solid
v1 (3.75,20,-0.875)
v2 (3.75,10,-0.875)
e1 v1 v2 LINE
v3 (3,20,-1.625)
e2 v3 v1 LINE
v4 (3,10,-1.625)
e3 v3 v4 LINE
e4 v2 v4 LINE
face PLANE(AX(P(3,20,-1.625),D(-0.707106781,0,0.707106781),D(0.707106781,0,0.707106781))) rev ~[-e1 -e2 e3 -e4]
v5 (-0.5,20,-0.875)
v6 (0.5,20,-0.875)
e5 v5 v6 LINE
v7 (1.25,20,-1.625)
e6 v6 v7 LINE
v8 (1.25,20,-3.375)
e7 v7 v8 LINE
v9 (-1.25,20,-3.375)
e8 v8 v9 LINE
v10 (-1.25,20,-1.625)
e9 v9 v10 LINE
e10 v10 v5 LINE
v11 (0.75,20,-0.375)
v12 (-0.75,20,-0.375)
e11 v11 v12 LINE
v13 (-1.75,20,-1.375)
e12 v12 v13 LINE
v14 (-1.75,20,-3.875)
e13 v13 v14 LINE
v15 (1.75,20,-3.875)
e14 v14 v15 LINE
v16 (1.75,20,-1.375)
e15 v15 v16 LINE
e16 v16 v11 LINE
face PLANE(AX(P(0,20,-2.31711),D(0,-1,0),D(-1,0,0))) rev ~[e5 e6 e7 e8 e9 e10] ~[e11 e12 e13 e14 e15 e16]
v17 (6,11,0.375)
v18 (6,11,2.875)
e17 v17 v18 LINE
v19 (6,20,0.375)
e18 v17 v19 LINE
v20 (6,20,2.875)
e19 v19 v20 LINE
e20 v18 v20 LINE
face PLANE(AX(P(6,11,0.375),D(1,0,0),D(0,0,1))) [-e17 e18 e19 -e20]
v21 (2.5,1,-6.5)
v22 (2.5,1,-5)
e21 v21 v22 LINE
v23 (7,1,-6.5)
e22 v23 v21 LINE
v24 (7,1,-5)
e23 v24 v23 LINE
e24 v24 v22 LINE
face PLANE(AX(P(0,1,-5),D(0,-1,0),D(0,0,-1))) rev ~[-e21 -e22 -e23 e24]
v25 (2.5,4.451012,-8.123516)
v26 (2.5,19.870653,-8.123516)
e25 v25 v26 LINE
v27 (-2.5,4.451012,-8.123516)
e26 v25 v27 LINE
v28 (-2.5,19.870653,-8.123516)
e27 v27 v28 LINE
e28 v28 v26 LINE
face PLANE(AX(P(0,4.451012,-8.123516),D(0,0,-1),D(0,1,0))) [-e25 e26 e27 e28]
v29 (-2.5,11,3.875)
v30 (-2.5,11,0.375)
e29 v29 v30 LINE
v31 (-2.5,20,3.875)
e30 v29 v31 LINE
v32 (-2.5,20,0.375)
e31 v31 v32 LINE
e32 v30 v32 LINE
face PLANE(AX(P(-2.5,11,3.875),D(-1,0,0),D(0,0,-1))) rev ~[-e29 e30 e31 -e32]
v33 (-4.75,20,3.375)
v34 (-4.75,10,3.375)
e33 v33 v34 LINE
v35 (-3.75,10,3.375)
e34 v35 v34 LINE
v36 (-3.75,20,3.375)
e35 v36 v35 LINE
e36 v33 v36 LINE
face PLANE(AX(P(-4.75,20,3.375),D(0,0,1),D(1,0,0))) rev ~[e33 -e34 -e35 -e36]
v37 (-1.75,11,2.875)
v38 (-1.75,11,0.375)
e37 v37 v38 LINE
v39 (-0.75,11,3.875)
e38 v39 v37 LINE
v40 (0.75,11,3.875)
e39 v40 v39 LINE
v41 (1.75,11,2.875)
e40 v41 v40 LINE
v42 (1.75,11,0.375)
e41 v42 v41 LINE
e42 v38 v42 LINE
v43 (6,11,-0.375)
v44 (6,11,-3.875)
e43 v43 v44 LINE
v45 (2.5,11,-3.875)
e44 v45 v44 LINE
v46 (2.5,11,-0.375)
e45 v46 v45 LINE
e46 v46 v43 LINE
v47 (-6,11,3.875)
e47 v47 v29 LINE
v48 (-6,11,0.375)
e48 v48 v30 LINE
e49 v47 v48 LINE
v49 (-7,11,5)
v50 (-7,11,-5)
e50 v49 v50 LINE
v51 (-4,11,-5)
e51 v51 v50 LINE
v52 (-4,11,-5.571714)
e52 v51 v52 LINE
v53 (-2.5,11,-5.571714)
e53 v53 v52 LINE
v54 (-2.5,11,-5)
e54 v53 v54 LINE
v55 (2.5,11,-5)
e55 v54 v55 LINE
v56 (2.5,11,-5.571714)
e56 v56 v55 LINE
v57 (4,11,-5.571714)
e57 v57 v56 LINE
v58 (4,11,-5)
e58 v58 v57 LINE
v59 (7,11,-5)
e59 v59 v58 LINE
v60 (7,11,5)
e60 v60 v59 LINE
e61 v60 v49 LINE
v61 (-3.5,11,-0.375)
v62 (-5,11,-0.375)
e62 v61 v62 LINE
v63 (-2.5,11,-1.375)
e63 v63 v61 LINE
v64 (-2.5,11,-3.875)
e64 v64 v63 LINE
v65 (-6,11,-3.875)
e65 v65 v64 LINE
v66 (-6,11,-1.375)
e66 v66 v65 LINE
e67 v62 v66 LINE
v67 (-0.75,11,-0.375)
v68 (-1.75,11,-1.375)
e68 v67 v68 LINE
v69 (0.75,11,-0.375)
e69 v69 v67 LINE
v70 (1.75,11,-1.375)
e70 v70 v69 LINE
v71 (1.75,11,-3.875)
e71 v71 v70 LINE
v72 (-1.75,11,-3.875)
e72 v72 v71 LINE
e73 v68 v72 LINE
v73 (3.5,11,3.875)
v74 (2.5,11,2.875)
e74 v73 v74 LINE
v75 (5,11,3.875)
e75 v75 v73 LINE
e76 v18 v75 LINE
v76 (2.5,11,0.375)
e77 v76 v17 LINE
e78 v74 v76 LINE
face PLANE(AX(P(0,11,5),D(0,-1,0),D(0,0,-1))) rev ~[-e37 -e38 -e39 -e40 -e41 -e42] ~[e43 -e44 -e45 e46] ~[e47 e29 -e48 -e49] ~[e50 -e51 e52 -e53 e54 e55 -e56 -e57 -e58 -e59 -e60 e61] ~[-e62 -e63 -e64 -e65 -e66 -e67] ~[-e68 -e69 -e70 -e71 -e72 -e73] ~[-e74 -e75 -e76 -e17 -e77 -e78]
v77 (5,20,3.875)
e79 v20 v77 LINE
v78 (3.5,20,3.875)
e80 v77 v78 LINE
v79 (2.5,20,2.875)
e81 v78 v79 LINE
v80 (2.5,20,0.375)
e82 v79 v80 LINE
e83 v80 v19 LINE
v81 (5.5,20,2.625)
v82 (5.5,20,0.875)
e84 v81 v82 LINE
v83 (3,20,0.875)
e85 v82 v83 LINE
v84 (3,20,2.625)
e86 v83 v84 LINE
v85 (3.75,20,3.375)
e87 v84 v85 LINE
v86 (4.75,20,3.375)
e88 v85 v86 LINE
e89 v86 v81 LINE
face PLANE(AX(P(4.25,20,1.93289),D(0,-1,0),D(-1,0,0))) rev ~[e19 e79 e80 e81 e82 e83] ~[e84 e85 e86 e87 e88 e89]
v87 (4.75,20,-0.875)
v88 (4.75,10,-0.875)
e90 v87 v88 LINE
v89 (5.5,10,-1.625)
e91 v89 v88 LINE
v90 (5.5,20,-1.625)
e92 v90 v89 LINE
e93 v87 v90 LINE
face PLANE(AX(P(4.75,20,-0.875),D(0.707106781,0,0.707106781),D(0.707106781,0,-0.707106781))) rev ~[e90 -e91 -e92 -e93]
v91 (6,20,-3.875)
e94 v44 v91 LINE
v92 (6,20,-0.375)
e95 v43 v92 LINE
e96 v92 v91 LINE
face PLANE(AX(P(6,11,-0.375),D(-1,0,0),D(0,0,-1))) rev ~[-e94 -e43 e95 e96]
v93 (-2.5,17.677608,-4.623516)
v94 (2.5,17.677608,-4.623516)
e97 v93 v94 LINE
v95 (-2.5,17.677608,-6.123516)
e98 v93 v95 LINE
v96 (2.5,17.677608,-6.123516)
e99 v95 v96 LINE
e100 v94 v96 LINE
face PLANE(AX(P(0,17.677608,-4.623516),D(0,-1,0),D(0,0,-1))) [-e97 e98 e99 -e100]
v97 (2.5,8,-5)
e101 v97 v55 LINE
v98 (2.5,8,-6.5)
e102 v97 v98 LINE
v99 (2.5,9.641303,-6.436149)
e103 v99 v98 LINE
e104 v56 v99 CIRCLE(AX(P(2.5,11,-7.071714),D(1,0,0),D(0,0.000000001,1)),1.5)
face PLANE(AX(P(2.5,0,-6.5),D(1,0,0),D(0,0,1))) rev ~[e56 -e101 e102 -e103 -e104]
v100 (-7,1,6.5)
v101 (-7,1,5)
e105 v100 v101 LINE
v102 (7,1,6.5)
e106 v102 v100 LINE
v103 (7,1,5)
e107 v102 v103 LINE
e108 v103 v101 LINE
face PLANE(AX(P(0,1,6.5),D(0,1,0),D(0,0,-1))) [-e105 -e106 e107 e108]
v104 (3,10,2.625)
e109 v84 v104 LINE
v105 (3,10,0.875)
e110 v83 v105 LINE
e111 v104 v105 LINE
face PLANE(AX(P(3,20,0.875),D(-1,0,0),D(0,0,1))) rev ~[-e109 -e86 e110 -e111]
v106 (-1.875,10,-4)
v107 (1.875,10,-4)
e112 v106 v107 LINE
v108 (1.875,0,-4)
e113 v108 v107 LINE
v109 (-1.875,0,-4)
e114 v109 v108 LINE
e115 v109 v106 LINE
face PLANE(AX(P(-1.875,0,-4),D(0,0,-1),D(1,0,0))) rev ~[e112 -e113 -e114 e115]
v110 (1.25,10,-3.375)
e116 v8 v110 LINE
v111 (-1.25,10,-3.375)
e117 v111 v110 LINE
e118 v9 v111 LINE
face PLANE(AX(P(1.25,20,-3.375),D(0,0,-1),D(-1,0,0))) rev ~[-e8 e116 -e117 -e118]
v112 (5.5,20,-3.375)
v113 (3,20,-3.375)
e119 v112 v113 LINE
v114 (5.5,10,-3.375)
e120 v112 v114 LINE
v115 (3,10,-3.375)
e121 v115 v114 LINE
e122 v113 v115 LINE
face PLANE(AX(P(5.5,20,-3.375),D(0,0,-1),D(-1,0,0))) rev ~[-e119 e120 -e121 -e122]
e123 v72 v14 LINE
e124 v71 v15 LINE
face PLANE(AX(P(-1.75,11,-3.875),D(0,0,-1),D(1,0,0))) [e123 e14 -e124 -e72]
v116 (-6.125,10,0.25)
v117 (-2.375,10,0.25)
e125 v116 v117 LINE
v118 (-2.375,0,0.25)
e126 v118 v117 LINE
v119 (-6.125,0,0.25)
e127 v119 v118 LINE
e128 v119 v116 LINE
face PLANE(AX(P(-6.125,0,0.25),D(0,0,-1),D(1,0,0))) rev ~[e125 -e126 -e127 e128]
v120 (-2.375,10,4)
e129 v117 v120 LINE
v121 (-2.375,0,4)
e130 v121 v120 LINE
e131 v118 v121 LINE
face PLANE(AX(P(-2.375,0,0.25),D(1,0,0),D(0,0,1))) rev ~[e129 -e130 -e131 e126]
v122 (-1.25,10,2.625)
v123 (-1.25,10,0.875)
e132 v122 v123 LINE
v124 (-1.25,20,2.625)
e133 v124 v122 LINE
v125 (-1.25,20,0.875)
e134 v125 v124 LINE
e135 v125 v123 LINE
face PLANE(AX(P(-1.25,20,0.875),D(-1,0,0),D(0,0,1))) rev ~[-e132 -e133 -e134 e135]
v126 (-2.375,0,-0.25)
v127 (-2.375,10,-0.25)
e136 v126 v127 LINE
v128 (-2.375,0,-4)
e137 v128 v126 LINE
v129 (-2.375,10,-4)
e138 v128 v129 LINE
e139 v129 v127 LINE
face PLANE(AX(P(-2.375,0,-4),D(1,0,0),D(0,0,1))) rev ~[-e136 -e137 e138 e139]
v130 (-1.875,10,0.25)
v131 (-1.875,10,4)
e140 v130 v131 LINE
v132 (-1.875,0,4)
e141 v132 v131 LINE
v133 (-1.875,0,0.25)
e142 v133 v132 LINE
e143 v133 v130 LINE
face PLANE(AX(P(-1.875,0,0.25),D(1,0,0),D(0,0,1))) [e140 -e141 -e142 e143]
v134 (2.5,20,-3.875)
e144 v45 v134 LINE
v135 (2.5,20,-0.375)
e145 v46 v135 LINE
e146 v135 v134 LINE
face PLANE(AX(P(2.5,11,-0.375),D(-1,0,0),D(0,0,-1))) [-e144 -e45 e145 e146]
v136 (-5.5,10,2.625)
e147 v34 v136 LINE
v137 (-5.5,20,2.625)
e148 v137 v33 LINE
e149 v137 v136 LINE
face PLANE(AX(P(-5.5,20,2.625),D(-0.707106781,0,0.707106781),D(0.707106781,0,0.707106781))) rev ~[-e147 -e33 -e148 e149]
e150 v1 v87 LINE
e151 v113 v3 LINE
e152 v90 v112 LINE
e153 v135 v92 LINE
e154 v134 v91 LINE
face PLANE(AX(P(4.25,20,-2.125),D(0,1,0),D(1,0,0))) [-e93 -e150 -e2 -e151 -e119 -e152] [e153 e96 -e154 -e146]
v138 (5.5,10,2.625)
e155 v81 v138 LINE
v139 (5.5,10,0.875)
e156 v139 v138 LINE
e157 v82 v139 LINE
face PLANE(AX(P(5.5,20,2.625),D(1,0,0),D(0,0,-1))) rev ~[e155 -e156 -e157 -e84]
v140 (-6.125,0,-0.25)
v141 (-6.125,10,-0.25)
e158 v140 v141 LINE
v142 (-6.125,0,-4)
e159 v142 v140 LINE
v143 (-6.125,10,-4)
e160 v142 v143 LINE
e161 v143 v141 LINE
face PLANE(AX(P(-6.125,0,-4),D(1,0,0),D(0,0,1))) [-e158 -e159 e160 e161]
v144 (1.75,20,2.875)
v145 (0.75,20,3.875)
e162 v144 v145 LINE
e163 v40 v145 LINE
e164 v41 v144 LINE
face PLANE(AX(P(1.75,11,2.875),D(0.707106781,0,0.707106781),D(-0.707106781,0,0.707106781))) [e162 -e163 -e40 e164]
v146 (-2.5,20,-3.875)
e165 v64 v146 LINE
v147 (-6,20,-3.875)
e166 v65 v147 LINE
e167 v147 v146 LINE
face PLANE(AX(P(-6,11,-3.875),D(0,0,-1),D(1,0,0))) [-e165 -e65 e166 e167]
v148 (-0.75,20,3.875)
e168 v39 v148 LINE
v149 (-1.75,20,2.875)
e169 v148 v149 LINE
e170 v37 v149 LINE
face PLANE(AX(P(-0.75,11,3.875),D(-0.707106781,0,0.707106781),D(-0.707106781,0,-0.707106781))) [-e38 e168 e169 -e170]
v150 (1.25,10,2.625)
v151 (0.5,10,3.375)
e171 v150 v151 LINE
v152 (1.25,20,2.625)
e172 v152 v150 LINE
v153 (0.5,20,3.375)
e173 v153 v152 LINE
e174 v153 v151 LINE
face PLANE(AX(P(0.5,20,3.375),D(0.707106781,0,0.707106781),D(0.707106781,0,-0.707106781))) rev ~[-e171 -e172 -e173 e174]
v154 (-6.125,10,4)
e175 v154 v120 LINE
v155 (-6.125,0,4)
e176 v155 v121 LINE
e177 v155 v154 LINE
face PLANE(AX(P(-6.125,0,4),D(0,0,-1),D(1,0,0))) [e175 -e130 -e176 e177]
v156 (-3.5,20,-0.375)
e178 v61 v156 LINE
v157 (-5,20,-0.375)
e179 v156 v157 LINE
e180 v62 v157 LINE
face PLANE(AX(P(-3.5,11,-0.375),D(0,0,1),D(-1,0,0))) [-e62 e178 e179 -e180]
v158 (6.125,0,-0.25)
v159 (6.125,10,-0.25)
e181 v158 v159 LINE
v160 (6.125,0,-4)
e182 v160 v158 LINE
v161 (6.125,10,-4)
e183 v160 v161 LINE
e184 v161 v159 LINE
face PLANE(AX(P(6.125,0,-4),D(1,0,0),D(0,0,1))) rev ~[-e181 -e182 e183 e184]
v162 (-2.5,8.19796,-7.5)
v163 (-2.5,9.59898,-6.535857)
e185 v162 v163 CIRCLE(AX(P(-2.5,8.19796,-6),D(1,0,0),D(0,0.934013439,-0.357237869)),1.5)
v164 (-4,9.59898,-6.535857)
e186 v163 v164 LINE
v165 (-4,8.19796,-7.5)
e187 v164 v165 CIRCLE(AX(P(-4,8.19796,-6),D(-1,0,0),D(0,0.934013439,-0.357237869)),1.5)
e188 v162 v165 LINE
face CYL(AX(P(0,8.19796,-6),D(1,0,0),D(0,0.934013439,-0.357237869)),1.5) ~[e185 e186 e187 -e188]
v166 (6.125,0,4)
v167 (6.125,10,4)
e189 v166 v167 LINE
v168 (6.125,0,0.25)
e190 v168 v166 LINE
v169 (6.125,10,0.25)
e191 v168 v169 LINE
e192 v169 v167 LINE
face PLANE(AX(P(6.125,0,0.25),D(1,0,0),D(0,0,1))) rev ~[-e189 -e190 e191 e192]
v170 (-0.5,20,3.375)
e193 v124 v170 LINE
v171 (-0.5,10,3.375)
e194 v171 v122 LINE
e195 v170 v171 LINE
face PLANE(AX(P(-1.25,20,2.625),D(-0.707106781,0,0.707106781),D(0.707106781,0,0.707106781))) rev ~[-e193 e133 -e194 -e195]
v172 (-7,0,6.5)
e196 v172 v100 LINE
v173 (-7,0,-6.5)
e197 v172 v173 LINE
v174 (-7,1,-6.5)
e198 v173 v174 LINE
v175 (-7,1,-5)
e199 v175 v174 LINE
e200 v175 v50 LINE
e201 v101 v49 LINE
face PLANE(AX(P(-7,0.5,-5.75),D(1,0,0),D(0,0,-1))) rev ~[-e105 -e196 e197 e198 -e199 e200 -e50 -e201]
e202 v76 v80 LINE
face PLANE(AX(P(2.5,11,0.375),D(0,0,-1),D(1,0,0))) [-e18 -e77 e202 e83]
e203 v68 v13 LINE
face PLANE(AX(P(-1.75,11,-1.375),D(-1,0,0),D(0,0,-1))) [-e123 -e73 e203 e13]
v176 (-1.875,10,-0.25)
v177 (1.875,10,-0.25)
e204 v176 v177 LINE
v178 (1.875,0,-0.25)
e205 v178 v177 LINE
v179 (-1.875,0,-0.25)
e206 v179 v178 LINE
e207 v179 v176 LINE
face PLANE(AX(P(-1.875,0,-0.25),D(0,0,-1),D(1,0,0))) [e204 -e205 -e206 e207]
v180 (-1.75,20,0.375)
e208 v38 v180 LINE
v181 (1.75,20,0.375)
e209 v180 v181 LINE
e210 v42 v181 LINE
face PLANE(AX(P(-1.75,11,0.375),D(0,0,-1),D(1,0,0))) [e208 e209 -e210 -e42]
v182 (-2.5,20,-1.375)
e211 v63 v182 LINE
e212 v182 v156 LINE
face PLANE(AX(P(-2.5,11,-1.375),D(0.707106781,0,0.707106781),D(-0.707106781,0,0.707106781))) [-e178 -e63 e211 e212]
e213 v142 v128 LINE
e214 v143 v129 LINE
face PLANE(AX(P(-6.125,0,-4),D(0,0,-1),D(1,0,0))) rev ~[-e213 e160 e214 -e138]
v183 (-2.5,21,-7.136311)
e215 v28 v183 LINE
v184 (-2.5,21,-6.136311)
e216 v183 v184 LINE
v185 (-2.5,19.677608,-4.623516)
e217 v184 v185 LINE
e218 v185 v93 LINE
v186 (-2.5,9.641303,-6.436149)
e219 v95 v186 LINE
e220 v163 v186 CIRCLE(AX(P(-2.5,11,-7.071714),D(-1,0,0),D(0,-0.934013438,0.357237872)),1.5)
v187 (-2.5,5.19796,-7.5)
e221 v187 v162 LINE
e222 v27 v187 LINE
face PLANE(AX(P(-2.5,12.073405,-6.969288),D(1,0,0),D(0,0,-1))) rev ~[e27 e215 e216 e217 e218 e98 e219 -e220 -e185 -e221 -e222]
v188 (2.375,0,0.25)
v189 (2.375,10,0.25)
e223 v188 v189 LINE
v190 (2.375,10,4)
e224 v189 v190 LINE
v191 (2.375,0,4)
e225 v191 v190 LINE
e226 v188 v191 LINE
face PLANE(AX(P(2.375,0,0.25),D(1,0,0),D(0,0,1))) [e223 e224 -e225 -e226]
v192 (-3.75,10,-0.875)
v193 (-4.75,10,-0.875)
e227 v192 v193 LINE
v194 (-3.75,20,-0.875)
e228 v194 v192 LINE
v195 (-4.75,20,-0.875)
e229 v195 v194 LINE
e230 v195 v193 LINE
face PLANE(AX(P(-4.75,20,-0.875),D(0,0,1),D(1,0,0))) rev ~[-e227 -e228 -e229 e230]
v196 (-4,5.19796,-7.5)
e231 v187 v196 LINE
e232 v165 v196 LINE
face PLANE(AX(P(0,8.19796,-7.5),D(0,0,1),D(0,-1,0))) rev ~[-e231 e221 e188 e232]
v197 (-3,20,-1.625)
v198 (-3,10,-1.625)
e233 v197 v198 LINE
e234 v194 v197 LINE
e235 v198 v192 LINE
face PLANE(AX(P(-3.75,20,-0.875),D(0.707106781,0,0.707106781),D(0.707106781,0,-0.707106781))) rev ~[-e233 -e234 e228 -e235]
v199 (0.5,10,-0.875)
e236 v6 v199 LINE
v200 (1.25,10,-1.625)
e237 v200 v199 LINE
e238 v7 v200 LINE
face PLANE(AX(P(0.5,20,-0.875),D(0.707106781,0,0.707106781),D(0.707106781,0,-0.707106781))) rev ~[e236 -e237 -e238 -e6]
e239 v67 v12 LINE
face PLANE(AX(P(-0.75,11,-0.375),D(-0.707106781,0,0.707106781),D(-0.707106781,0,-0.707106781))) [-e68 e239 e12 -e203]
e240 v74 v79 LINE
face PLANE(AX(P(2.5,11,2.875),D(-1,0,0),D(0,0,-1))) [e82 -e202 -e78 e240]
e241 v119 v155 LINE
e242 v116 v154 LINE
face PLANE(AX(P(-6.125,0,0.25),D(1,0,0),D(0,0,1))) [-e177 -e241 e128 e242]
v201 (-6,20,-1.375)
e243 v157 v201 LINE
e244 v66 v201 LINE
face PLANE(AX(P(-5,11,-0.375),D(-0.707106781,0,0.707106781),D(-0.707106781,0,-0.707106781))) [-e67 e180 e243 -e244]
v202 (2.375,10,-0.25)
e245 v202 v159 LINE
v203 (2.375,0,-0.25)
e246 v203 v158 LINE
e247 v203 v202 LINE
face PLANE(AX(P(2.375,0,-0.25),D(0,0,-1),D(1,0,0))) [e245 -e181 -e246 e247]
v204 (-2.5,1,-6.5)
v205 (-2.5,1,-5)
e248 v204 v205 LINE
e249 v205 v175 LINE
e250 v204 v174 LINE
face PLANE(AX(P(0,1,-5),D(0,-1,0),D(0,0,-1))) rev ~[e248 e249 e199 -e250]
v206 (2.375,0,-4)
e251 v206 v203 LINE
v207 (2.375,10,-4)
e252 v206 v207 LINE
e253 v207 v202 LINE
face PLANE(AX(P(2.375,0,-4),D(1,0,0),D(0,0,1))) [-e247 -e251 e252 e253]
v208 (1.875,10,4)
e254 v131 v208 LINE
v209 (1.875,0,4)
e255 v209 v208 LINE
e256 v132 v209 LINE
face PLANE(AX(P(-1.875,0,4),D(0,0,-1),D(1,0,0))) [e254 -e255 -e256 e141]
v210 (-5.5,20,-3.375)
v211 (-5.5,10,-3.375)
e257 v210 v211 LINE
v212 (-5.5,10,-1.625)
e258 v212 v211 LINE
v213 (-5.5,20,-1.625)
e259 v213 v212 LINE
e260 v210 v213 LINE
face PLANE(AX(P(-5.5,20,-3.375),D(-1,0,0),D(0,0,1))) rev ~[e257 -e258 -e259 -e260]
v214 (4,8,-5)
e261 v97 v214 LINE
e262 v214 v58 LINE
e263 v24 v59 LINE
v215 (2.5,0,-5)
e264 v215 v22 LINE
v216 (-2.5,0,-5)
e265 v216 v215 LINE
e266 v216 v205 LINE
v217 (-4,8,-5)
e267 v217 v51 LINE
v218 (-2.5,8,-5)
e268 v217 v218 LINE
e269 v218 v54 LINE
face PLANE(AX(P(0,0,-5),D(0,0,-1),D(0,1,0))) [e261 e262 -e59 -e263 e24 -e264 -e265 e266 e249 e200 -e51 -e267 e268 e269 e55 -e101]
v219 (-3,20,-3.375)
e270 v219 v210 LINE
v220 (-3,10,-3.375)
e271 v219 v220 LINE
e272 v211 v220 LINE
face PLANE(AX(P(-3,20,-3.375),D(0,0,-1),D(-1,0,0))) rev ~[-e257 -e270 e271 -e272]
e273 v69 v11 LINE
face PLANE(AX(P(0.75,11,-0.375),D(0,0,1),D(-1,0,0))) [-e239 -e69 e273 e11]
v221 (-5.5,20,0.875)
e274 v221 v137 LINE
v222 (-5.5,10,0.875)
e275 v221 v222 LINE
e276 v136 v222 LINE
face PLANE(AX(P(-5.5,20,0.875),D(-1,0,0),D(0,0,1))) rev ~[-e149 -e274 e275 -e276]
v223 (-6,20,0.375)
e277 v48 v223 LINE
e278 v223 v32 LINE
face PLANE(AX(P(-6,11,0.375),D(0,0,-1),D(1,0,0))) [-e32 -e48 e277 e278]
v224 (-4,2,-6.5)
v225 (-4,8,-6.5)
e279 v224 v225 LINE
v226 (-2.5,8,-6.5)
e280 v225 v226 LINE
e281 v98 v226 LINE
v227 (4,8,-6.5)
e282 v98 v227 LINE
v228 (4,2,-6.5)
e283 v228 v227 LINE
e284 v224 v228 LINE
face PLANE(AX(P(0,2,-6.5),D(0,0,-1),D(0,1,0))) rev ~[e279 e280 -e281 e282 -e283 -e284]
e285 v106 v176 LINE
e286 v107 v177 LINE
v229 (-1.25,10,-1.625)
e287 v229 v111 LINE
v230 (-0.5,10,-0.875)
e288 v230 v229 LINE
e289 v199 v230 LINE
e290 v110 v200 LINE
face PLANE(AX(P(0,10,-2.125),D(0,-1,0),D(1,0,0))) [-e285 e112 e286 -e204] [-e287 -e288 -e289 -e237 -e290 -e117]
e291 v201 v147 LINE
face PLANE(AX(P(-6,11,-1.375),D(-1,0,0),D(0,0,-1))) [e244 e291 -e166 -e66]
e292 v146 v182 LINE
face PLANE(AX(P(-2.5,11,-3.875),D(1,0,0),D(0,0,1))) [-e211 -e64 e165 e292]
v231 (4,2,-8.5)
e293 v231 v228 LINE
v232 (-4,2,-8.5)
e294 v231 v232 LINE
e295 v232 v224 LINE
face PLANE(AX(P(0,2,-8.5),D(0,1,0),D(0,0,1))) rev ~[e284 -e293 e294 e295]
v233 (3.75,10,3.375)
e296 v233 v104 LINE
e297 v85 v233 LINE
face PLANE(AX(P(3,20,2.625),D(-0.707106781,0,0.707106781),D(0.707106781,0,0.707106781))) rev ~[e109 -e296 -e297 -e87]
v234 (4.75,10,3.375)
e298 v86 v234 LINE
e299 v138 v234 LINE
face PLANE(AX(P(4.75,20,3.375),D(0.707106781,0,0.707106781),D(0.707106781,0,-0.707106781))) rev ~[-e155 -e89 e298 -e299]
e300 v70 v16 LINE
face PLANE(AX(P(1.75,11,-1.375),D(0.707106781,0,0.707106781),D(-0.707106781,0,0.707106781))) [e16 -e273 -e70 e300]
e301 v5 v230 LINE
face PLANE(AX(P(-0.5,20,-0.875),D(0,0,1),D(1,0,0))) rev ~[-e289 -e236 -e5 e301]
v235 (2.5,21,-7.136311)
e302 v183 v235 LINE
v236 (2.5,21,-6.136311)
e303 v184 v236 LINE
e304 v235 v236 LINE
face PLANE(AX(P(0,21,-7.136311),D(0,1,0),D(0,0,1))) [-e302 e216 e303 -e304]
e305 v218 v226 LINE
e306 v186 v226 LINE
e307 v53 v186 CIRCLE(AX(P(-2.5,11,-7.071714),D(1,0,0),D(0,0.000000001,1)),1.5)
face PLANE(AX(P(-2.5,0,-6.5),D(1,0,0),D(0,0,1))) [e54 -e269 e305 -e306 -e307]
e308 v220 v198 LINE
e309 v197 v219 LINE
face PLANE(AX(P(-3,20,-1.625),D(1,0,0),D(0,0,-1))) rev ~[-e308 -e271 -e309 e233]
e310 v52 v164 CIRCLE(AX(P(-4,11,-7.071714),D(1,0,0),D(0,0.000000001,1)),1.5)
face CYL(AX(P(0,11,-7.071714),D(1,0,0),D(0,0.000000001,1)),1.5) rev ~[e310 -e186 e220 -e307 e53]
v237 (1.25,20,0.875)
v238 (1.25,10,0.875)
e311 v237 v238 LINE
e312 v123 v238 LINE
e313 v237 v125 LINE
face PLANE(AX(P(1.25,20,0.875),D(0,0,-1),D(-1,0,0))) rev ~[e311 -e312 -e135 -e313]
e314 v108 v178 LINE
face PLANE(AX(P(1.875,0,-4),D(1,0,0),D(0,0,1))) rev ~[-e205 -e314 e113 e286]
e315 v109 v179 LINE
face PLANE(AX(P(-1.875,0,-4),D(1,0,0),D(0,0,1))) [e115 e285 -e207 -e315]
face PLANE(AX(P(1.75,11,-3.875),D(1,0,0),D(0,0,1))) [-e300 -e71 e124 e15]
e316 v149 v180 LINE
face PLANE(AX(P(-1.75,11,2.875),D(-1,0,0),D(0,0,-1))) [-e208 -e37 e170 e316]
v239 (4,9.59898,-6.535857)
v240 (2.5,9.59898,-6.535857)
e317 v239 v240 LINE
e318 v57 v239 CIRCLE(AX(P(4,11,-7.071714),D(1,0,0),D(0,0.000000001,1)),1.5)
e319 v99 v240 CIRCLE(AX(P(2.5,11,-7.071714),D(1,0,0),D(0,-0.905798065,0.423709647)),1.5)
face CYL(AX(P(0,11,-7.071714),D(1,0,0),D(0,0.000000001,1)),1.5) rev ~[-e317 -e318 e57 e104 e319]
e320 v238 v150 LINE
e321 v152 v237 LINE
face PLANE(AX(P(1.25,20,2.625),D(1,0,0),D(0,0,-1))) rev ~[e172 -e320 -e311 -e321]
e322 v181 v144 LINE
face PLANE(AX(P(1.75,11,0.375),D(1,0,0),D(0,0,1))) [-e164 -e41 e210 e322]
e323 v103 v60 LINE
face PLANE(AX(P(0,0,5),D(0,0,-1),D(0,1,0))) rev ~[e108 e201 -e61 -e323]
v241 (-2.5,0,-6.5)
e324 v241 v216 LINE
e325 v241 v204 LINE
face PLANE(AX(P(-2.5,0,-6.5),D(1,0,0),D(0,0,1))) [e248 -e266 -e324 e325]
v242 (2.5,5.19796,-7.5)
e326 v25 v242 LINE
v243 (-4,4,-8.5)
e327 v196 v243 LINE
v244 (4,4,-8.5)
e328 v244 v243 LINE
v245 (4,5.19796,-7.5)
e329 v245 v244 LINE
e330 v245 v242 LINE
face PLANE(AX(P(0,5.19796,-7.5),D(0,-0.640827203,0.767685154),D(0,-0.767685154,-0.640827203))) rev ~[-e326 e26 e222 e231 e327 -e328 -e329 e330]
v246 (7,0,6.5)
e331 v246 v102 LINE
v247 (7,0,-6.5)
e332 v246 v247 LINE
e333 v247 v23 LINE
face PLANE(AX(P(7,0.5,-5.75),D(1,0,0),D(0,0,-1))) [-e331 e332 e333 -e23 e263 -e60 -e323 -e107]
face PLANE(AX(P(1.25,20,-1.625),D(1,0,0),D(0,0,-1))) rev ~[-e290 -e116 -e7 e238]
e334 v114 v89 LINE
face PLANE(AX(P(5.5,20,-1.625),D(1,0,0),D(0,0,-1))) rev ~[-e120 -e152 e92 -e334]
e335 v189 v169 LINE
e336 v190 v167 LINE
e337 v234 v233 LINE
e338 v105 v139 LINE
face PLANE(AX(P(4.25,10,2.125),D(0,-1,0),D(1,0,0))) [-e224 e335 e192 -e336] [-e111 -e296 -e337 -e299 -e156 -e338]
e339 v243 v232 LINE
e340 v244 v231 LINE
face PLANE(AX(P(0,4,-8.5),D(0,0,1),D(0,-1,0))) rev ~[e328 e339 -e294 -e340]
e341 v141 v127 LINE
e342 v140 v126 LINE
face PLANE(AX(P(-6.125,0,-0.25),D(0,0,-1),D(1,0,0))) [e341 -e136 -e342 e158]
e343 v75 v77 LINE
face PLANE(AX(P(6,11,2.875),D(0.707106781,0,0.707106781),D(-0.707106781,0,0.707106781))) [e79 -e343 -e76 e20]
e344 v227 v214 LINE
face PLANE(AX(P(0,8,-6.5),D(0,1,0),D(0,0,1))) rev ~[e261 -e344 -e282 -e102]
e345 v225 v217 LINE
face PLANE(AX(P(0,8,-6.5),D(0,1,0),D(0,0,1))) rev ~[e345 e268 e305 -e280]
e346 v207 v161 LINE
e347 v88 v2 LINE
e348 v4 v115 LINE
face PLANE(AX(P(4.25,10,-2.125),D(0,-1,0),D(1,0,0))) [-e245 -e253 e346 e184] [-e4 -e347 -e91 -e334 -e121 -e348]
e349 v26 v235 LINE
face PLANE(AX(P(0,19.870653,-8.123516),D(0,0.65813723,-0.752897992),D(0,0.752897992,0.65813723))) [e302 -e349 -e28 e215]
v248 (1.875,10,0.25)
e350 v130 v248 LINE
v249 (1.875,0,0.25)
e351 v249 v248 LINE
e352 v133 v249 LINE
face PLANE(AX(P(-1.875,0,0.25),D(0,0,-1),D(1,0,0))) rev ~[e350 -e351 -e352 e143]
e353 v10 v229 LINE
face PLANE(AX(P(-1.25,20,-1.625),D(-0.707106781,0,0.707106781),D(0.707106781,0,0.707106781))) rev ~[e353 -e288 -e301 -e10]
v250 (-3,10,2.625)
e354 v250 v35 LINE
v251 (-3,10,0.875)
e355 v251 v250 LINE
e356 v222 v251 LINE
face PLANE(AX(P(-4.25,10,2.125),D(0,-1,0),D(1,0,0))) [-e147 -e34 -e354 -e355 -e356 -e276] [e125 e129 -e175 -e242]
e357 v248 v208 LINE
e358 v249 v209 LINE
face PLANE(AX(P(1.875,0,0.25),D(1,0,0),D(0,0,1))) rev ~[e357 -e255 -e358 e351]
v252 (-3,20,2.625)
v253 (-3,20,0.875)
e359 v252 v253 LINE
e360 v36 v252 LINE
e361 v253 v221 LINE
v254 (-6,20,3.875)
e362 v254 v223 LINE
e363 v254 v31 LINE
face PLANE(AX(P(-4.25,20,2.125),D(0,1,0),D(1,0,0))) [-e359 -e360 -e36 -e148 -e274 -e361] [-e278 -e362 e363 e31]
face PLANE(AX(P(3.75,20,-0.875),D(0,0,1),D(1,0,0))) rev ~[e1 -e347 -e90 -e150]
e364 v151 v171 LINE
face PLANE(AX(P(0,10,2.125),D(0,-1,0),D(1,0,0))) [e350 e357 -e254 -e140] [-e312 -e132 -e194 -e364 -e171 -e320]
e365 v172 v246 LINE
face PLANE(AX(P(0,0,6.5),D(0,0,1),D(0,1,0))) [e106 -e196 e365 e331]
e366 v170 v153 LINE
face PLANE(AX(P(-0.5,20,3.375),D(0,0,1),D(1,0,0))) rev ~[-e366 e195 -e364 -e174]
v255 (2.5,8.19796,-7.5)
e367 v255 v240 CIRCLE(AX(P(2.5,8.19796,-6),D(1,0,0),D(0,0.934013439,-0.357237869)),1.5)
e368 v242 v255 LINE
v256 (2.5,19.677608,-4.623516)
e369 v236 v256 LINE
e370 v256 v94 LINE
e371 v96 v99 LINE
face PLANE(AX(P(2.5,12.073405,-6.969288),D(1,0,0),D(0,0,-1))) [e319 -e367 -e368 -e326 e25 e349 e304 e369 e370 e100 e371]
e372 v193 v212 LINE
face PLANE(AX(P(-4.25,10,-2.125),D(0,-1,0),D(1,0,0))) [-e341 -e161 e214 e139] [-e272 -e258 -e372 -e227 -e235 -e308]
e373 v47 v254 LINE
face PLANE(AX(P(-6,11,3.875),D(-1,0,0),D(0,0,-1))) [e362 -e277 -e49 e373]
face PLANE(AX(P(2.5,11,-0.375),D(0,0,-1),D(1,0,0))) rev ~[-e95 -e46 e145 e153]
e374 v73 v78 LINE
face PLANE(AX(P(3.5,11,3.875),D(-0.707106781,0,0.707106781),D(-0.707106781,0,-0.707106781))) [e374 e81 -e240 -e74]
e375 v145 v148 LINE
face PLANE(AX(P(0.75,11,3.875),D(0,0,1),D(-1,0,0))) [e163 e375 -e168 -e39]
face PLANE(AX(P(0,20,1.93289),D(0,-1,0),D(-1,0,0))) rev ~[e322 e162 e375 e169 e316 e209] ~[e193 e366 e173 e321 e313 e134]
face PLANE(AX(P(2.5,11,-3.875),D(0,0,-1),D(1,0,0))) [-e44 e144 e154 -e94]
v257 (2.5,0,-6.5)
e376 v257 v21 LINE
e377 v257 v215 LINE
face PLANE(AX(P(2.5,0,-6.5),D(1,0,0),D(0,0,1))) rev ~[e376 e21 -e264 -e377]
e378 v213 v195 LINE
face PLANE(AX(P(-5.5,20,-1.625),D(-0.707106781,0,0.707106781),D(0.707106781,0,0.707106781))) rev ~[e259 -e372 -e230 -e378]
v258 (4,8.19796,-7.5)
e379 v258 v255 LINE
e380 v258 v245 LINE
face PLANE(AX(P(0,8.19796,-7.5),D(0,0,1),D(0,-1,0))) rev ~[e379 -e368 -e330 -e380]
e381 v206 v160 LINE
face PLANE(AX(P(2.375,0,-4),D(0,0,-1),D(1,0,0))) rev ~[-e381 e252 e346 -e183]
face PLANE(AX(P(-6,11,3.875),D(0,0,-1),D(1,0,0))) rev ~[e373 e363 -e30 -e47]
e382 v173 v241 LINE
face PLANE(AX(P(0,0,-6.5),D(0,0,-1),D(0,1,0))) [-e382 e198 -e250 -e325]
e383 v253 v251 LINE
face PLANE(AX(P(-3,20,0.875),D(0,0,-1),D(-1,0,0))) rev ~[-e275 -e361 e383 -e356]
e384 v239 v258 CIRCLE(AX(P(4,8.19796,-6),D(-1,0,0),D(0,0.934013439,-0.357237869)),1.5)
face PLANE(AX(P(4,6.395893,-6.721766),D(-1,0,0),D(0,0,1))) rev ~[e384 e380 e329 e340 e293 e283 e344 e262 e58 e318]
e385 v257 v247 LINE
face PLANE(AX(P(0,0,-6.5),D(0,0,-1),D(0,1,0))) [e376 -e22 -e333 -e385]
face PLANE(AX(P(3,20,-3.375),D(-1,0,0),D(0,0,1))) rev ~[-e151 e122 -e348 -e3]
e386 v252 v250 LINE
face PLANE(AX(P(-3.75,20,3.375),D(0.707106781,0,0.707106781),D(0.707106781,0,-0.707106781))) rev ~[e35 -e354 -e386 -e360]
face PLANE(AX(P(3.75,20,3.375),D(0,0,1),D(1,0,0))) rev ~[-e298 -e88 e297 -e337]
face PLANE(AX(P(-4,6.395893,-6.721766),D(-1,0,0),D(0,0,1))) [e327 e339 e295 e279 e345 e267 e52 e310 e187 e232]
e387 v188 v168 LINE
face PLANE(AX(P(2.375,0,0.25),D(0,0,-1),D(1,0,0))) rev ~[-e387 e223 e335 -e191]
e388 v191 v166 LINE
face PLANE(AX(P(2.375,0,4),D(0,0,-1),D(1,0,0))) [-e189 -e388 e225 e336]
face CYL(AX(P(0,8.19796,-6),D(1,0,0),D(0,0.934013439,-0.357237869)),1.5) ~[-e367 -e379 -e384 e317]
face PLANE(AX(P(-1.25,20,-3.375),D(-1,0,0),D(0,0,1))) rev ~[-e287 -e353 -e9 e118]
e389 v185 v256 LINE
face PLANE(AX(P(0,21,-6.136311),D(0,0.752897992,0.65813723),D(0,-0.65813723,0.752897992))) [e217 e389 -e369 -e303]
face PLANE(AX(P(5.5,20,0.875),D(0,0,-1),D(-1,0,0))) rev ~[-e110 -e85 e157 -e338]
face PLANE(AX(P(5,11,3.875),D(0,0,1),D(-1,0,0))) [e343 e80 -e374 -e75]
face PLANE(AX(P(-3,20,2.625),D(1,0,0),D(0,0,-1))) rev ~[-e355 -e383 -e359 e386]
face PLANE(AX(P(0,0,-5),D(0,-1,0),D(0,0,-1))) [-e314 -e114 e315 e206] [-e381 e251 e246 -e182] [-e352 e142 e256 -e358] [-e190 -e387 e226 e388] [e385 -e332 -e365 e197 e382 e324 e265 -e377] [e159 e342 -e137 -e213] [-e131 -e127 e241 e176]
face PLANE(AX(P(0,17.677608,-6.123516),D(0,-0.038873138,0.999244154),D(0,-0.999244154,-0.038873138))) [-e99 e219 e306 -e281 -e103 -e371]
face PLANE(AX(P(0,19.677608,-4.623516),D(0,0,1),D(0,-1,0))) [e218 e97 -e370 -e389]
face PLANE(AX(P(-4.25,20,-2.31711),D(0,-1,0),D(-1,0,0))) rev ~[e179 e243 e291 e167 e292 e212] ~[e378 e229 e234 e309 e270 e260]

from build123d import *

# Parameters (mm, degrees)
SKIZZE1_W                       = 10
SKIZZE1_H                       = 11
AUFSATZ_LINEAR_AUSTRAGEN1_DEPTH = 7
SKIZZE2_W                       = 1.5
SKIZZE2_H                       = 1
AUFSATZ_LINEAR_AUSTRAGEN2_DEPTH = 7
AUFSATZ_LINEAR_AUSTRAGEN3_DEPTH = 4
SKIZZE4_W                       = 5
SKIZZE4_H                       = 1.5
SCHNITT_LINEAR_AUSTRAGEN1_DEPTH = 12
AUFSATZ_LINEAR_AUSTRAGEN4_DEPTH = 2.5
SKIZZE6_W                       = 3.75
SKIZZE6_H                       = 3.75
SCHNITT_LINEAR_AUSTRAGEN2_DEPTH = 10
LINEARES_MUSTER1_COUNT          = 3
LINEARES_MUSTER1_PITCH          = 4.25
LINEARES_MUSTER1_COUNT_DIR2     = 2
LINEARES_MUSTER1_PITCH_DIR2     = 4.25
SKIZZE7_W                       = 3.5
SKIZZE7_H                       = 3.5
AUFSATZ_LINEAR_AUSTRAGEN5_DEPTH = 9
LINEARES_MUSTER2_COUNT          = 3
LINEARES_MUSTER2_PITCH          = 4.25
LINEARES_MUSTER2_COUNT_DIR2     = 2
LINEARES_MUSTER2_PITCH_DIR2     = 4.25
AUFSATZ_LINEAR_AUSTRAGEN7_DEPTH = 9
LINEARES_MUSTER4_COUNT          = 3
LINEARES_MUSTER4_PITCH          = 4.25
LINEARES_MUSTER4_COUNT_DIR2     = 2
LINEARES_MUSTER4_PITCH_DIR2     = 4.25
SCHNITT_LINEAR_AUSTRAGEN4_DEPTH = 21
LINEARES_MUSTER6_COUNT          = 3
LINEARES_MUSTER6_PITCH          = 4.25
LINEARES_MUSTER6_COUNT_DIR2     = 2
LINEARES_MUSTER6_PITCH_DIR2     = 4.25


with BuildPart() as part:
    # Skizze1 → Aufsatz-Linear austragen1 (new body, symmetric)
    with BuildSketch(Plane(origin=(0, 0, 0), x_dir=(0, 0, -1), z_dir=(1, 0, 0))):
        with Locations((0, 5.5)):
            Rectangle(SKIZZE1_W, SKIZZE1_H)
    extrude(amount=AUFSATZ_LINEAR_AUSTRAGEN1_DEPTH, both=True)

    # Skizze2 → Aufsatz-Linear austragen2 (add, symmetric)
    with BuildSketch(Plane(origin=(0, 0, 0), x_dir=(0, 0, -1), z_dir=(1, 0, 0))):
        with Locations((-5.75, 0.5)):
            Rectangle(SKIZZE2_W, SKIZZE2_H)
        with Locations((5.75, 0.5)):
            Rectangle(SKIZZE2_W, SKIZZE2_H)
    extrude(amount=AUFSATZ_LINEAR_AUSTRAGEN2_DEPTH, both=True)

    # Skizze3 → Aufsatz-Linear austragen3 (add, symmetric)
    with BuildSketch(Plane(origin=(0, 0, 0), x_dir=(0, 0, -1), z_dir=(1, 0, 0))):
        with BuildLine():
            Line((5, 11), (5.571713615, 11))
            ThreePointArc((5.571713615, 11), (5.836038655, 10.149642784), (6.535856807, 9.598979842))
            ThreePointArc((6.535856807, 9.598979842), (7.23567496, 9.048316901), (7.5, 8.197959685))
            Line((7.5, 8.197959685), (7.5, 5.197959685))
            Line((7.5, 5.197959685), (8.5, 4))
            Line((8.5, 4), (8.5, 2))
            Line((8.5, 2), (6.5, 2))
            Line((6.5, 2), (6.5, 8))
            Line((6.5, 8), (5, 8))
            Line((5, 8), (5, 11))
        make_face()
    extrude(amount=AUFSATZ_LINEAR_AUSTRAGEN3_DEPTH, both=True)

    # Skizze4 → Schnitt-Linear austragen1 (cut, through all)
    with BuildSketch(Plane.XZ):
        with Locations((0, -5.75)):
            Rectangle(SKIZZE4_W, SKIZZE4_H)
    extrude(amount=-SCHNITT_LINEAR_AUSTRAGEN1_DEPTH, mode=Mode.SUBTRACT)

    # Skizze5 → Aufsatz-Linear austragen4 (add, symmetric)
    with BuildSketch(Plane(origin=(0, 0, 0), x_dir=(0, 0, -1), z_dir=(1, 0, 0))):
        Polygon((8.123516438, 4.451012129), (8.123516438, 19.870653012), (7.136310593, 21), (6.136310593, 21), (4.623516438, 19.677608169), (4.623516438, 17.677608169), (6.123516438, 17.677608169), (6.5, 8), (6.5, 2), align=None)
    extrude(amount=AUFSATZ_LINEAR_AUSTRAGEN4_DEPTH, both=True)

    # Skizze6 → Schnitt-Linear austragen2 (cut)
    with BuildSketch(Plane.XZ):
        with Locations((-4.25, -2.125)):
            Rectangle(SKIZZE6_W, SKIZZE6_H)
    schnitt_linear_austragen2 = extrude(amount=-SCHNITT_LINEAR_AUSTRAGEN2_DEPTH, mode=Mode.SUBTRACT)

    # Lineares Muster1: Schnitt-Linear austragen2 3 × 2
    with Locations(*[(i * LINEARES_MUSTER1_PITCH, 0, j * LINEARES_MUSTER1_PITCH_DIR2) for i in range(LINEARES_MUSTER1_COUNT) for j in range(LINEARES_MUSTER1_COUNT_DIR2) if (i, j) != (0, 0)]):
        add(schnitt_linear_austragen2, mode=Mode.SUBTRACT)

    # Skizze7 → Aufsatz-Linear austragen5 (add)
    with BuildSketch(Plane(origin=(0, 11, 0), x_dir=(1, 0, 0), z_dir=(0, 1, 0))):
        with Locations((-4.25, -2.125)):
            Rectangle(SKIZZE7_W, SKIZZE7_H)
    aufsatz_linear_austragen5 = extrude(amount=AUFSATZ_LINEAR_AUSTRAGEN5_DEPTH)

    # Lineares Muster2: Aufsatz-Linear austragen5 3 × 2, 4 skipped
    with Locations(*[(i * LINEARES_MUSTER2_PITCH, 0, -j * LINEARES_MUSTER2_PITCH_DIR2) for i in range(LINEARES_MUSTER2_COUNT) for j in range(LINEARES_MUSTER2_COUNT_DIR2) if (i, j) not in ((0, 0), (0, 1), (1, 0), (1, 1), (2, 0))]):
        add(aufsatz_linear_austragen5)

    # Skizze10 → Aufsatz-Linear austragen7 (add)
    with BuildSketch(Plane(origin=(0, 11, 0), x_dir=(1, 0, 0), z_dir=(0, 1, 0))):
        Polygon((-2.5, 1.375), (-3.5, 0.375), (-5, 0.375), (-6, 1.375), (-6, 3.875), (-2.5, 3.875), align=None)
    aufsatz_linear_austragen7 = extrude(amount=AUFSATZ_LINEAR_AUSTRAGEN7_DEPTH)

    # Lineares Muster4: Aufsatz-Linear austragen7 3 × 2, 2 skipped
    with Locations(*[(i * LINEARES_MUSTER4_PITCH, 0, j * LINEARES_MUSTER4_PITCH_DIR2) for i in range(LINEARES_MUSTER4_COUNT) for j in range(LINEARES_MUSTER4_COUNT_DIR2) if (i, j) not in ((0, 0), (0, 1), (2, 0))]):
        add(aufsatz_linear_austragen7)

    # Skizze12 → Schnitt-Linear austragen4 (cut, through all)
    with BuildSketch(Plane(origin=(0, 20, 0), x_dir=(1, 0, 0), z_dir=(0, 1, 0))):
        Polygon((-3.75, 0.875), (-3, 1.625), (-3, 3.375), (-5.5, 3.375), (-5.5, 1.625), (-4.75, 0.875), align=None)
    schnitt_linear_austragen4 = extrude(amount=-SCHNITT_LINEAR_AUSTRAGEN4_DEPTH, mode=Mode.SUBTRACT)

    # Lineares Muster6: Schnitt-Linear austragen4 3 × 2
    with Locations(*[(i * LINEARES_MUSTER6_PITCH, 0, j * LINEARES_MUSTER6_PITCH_DIR2) for i in range(LINEARES_MUSTER6_COUNT) for j in range(LINEARES_MUSTER6_COUNT_DIR2) if (i, j) != (0, 0)]):
        add(schnitt_linear_austragen4, mode=Mode.SUBTRACT)


solid = part.part
